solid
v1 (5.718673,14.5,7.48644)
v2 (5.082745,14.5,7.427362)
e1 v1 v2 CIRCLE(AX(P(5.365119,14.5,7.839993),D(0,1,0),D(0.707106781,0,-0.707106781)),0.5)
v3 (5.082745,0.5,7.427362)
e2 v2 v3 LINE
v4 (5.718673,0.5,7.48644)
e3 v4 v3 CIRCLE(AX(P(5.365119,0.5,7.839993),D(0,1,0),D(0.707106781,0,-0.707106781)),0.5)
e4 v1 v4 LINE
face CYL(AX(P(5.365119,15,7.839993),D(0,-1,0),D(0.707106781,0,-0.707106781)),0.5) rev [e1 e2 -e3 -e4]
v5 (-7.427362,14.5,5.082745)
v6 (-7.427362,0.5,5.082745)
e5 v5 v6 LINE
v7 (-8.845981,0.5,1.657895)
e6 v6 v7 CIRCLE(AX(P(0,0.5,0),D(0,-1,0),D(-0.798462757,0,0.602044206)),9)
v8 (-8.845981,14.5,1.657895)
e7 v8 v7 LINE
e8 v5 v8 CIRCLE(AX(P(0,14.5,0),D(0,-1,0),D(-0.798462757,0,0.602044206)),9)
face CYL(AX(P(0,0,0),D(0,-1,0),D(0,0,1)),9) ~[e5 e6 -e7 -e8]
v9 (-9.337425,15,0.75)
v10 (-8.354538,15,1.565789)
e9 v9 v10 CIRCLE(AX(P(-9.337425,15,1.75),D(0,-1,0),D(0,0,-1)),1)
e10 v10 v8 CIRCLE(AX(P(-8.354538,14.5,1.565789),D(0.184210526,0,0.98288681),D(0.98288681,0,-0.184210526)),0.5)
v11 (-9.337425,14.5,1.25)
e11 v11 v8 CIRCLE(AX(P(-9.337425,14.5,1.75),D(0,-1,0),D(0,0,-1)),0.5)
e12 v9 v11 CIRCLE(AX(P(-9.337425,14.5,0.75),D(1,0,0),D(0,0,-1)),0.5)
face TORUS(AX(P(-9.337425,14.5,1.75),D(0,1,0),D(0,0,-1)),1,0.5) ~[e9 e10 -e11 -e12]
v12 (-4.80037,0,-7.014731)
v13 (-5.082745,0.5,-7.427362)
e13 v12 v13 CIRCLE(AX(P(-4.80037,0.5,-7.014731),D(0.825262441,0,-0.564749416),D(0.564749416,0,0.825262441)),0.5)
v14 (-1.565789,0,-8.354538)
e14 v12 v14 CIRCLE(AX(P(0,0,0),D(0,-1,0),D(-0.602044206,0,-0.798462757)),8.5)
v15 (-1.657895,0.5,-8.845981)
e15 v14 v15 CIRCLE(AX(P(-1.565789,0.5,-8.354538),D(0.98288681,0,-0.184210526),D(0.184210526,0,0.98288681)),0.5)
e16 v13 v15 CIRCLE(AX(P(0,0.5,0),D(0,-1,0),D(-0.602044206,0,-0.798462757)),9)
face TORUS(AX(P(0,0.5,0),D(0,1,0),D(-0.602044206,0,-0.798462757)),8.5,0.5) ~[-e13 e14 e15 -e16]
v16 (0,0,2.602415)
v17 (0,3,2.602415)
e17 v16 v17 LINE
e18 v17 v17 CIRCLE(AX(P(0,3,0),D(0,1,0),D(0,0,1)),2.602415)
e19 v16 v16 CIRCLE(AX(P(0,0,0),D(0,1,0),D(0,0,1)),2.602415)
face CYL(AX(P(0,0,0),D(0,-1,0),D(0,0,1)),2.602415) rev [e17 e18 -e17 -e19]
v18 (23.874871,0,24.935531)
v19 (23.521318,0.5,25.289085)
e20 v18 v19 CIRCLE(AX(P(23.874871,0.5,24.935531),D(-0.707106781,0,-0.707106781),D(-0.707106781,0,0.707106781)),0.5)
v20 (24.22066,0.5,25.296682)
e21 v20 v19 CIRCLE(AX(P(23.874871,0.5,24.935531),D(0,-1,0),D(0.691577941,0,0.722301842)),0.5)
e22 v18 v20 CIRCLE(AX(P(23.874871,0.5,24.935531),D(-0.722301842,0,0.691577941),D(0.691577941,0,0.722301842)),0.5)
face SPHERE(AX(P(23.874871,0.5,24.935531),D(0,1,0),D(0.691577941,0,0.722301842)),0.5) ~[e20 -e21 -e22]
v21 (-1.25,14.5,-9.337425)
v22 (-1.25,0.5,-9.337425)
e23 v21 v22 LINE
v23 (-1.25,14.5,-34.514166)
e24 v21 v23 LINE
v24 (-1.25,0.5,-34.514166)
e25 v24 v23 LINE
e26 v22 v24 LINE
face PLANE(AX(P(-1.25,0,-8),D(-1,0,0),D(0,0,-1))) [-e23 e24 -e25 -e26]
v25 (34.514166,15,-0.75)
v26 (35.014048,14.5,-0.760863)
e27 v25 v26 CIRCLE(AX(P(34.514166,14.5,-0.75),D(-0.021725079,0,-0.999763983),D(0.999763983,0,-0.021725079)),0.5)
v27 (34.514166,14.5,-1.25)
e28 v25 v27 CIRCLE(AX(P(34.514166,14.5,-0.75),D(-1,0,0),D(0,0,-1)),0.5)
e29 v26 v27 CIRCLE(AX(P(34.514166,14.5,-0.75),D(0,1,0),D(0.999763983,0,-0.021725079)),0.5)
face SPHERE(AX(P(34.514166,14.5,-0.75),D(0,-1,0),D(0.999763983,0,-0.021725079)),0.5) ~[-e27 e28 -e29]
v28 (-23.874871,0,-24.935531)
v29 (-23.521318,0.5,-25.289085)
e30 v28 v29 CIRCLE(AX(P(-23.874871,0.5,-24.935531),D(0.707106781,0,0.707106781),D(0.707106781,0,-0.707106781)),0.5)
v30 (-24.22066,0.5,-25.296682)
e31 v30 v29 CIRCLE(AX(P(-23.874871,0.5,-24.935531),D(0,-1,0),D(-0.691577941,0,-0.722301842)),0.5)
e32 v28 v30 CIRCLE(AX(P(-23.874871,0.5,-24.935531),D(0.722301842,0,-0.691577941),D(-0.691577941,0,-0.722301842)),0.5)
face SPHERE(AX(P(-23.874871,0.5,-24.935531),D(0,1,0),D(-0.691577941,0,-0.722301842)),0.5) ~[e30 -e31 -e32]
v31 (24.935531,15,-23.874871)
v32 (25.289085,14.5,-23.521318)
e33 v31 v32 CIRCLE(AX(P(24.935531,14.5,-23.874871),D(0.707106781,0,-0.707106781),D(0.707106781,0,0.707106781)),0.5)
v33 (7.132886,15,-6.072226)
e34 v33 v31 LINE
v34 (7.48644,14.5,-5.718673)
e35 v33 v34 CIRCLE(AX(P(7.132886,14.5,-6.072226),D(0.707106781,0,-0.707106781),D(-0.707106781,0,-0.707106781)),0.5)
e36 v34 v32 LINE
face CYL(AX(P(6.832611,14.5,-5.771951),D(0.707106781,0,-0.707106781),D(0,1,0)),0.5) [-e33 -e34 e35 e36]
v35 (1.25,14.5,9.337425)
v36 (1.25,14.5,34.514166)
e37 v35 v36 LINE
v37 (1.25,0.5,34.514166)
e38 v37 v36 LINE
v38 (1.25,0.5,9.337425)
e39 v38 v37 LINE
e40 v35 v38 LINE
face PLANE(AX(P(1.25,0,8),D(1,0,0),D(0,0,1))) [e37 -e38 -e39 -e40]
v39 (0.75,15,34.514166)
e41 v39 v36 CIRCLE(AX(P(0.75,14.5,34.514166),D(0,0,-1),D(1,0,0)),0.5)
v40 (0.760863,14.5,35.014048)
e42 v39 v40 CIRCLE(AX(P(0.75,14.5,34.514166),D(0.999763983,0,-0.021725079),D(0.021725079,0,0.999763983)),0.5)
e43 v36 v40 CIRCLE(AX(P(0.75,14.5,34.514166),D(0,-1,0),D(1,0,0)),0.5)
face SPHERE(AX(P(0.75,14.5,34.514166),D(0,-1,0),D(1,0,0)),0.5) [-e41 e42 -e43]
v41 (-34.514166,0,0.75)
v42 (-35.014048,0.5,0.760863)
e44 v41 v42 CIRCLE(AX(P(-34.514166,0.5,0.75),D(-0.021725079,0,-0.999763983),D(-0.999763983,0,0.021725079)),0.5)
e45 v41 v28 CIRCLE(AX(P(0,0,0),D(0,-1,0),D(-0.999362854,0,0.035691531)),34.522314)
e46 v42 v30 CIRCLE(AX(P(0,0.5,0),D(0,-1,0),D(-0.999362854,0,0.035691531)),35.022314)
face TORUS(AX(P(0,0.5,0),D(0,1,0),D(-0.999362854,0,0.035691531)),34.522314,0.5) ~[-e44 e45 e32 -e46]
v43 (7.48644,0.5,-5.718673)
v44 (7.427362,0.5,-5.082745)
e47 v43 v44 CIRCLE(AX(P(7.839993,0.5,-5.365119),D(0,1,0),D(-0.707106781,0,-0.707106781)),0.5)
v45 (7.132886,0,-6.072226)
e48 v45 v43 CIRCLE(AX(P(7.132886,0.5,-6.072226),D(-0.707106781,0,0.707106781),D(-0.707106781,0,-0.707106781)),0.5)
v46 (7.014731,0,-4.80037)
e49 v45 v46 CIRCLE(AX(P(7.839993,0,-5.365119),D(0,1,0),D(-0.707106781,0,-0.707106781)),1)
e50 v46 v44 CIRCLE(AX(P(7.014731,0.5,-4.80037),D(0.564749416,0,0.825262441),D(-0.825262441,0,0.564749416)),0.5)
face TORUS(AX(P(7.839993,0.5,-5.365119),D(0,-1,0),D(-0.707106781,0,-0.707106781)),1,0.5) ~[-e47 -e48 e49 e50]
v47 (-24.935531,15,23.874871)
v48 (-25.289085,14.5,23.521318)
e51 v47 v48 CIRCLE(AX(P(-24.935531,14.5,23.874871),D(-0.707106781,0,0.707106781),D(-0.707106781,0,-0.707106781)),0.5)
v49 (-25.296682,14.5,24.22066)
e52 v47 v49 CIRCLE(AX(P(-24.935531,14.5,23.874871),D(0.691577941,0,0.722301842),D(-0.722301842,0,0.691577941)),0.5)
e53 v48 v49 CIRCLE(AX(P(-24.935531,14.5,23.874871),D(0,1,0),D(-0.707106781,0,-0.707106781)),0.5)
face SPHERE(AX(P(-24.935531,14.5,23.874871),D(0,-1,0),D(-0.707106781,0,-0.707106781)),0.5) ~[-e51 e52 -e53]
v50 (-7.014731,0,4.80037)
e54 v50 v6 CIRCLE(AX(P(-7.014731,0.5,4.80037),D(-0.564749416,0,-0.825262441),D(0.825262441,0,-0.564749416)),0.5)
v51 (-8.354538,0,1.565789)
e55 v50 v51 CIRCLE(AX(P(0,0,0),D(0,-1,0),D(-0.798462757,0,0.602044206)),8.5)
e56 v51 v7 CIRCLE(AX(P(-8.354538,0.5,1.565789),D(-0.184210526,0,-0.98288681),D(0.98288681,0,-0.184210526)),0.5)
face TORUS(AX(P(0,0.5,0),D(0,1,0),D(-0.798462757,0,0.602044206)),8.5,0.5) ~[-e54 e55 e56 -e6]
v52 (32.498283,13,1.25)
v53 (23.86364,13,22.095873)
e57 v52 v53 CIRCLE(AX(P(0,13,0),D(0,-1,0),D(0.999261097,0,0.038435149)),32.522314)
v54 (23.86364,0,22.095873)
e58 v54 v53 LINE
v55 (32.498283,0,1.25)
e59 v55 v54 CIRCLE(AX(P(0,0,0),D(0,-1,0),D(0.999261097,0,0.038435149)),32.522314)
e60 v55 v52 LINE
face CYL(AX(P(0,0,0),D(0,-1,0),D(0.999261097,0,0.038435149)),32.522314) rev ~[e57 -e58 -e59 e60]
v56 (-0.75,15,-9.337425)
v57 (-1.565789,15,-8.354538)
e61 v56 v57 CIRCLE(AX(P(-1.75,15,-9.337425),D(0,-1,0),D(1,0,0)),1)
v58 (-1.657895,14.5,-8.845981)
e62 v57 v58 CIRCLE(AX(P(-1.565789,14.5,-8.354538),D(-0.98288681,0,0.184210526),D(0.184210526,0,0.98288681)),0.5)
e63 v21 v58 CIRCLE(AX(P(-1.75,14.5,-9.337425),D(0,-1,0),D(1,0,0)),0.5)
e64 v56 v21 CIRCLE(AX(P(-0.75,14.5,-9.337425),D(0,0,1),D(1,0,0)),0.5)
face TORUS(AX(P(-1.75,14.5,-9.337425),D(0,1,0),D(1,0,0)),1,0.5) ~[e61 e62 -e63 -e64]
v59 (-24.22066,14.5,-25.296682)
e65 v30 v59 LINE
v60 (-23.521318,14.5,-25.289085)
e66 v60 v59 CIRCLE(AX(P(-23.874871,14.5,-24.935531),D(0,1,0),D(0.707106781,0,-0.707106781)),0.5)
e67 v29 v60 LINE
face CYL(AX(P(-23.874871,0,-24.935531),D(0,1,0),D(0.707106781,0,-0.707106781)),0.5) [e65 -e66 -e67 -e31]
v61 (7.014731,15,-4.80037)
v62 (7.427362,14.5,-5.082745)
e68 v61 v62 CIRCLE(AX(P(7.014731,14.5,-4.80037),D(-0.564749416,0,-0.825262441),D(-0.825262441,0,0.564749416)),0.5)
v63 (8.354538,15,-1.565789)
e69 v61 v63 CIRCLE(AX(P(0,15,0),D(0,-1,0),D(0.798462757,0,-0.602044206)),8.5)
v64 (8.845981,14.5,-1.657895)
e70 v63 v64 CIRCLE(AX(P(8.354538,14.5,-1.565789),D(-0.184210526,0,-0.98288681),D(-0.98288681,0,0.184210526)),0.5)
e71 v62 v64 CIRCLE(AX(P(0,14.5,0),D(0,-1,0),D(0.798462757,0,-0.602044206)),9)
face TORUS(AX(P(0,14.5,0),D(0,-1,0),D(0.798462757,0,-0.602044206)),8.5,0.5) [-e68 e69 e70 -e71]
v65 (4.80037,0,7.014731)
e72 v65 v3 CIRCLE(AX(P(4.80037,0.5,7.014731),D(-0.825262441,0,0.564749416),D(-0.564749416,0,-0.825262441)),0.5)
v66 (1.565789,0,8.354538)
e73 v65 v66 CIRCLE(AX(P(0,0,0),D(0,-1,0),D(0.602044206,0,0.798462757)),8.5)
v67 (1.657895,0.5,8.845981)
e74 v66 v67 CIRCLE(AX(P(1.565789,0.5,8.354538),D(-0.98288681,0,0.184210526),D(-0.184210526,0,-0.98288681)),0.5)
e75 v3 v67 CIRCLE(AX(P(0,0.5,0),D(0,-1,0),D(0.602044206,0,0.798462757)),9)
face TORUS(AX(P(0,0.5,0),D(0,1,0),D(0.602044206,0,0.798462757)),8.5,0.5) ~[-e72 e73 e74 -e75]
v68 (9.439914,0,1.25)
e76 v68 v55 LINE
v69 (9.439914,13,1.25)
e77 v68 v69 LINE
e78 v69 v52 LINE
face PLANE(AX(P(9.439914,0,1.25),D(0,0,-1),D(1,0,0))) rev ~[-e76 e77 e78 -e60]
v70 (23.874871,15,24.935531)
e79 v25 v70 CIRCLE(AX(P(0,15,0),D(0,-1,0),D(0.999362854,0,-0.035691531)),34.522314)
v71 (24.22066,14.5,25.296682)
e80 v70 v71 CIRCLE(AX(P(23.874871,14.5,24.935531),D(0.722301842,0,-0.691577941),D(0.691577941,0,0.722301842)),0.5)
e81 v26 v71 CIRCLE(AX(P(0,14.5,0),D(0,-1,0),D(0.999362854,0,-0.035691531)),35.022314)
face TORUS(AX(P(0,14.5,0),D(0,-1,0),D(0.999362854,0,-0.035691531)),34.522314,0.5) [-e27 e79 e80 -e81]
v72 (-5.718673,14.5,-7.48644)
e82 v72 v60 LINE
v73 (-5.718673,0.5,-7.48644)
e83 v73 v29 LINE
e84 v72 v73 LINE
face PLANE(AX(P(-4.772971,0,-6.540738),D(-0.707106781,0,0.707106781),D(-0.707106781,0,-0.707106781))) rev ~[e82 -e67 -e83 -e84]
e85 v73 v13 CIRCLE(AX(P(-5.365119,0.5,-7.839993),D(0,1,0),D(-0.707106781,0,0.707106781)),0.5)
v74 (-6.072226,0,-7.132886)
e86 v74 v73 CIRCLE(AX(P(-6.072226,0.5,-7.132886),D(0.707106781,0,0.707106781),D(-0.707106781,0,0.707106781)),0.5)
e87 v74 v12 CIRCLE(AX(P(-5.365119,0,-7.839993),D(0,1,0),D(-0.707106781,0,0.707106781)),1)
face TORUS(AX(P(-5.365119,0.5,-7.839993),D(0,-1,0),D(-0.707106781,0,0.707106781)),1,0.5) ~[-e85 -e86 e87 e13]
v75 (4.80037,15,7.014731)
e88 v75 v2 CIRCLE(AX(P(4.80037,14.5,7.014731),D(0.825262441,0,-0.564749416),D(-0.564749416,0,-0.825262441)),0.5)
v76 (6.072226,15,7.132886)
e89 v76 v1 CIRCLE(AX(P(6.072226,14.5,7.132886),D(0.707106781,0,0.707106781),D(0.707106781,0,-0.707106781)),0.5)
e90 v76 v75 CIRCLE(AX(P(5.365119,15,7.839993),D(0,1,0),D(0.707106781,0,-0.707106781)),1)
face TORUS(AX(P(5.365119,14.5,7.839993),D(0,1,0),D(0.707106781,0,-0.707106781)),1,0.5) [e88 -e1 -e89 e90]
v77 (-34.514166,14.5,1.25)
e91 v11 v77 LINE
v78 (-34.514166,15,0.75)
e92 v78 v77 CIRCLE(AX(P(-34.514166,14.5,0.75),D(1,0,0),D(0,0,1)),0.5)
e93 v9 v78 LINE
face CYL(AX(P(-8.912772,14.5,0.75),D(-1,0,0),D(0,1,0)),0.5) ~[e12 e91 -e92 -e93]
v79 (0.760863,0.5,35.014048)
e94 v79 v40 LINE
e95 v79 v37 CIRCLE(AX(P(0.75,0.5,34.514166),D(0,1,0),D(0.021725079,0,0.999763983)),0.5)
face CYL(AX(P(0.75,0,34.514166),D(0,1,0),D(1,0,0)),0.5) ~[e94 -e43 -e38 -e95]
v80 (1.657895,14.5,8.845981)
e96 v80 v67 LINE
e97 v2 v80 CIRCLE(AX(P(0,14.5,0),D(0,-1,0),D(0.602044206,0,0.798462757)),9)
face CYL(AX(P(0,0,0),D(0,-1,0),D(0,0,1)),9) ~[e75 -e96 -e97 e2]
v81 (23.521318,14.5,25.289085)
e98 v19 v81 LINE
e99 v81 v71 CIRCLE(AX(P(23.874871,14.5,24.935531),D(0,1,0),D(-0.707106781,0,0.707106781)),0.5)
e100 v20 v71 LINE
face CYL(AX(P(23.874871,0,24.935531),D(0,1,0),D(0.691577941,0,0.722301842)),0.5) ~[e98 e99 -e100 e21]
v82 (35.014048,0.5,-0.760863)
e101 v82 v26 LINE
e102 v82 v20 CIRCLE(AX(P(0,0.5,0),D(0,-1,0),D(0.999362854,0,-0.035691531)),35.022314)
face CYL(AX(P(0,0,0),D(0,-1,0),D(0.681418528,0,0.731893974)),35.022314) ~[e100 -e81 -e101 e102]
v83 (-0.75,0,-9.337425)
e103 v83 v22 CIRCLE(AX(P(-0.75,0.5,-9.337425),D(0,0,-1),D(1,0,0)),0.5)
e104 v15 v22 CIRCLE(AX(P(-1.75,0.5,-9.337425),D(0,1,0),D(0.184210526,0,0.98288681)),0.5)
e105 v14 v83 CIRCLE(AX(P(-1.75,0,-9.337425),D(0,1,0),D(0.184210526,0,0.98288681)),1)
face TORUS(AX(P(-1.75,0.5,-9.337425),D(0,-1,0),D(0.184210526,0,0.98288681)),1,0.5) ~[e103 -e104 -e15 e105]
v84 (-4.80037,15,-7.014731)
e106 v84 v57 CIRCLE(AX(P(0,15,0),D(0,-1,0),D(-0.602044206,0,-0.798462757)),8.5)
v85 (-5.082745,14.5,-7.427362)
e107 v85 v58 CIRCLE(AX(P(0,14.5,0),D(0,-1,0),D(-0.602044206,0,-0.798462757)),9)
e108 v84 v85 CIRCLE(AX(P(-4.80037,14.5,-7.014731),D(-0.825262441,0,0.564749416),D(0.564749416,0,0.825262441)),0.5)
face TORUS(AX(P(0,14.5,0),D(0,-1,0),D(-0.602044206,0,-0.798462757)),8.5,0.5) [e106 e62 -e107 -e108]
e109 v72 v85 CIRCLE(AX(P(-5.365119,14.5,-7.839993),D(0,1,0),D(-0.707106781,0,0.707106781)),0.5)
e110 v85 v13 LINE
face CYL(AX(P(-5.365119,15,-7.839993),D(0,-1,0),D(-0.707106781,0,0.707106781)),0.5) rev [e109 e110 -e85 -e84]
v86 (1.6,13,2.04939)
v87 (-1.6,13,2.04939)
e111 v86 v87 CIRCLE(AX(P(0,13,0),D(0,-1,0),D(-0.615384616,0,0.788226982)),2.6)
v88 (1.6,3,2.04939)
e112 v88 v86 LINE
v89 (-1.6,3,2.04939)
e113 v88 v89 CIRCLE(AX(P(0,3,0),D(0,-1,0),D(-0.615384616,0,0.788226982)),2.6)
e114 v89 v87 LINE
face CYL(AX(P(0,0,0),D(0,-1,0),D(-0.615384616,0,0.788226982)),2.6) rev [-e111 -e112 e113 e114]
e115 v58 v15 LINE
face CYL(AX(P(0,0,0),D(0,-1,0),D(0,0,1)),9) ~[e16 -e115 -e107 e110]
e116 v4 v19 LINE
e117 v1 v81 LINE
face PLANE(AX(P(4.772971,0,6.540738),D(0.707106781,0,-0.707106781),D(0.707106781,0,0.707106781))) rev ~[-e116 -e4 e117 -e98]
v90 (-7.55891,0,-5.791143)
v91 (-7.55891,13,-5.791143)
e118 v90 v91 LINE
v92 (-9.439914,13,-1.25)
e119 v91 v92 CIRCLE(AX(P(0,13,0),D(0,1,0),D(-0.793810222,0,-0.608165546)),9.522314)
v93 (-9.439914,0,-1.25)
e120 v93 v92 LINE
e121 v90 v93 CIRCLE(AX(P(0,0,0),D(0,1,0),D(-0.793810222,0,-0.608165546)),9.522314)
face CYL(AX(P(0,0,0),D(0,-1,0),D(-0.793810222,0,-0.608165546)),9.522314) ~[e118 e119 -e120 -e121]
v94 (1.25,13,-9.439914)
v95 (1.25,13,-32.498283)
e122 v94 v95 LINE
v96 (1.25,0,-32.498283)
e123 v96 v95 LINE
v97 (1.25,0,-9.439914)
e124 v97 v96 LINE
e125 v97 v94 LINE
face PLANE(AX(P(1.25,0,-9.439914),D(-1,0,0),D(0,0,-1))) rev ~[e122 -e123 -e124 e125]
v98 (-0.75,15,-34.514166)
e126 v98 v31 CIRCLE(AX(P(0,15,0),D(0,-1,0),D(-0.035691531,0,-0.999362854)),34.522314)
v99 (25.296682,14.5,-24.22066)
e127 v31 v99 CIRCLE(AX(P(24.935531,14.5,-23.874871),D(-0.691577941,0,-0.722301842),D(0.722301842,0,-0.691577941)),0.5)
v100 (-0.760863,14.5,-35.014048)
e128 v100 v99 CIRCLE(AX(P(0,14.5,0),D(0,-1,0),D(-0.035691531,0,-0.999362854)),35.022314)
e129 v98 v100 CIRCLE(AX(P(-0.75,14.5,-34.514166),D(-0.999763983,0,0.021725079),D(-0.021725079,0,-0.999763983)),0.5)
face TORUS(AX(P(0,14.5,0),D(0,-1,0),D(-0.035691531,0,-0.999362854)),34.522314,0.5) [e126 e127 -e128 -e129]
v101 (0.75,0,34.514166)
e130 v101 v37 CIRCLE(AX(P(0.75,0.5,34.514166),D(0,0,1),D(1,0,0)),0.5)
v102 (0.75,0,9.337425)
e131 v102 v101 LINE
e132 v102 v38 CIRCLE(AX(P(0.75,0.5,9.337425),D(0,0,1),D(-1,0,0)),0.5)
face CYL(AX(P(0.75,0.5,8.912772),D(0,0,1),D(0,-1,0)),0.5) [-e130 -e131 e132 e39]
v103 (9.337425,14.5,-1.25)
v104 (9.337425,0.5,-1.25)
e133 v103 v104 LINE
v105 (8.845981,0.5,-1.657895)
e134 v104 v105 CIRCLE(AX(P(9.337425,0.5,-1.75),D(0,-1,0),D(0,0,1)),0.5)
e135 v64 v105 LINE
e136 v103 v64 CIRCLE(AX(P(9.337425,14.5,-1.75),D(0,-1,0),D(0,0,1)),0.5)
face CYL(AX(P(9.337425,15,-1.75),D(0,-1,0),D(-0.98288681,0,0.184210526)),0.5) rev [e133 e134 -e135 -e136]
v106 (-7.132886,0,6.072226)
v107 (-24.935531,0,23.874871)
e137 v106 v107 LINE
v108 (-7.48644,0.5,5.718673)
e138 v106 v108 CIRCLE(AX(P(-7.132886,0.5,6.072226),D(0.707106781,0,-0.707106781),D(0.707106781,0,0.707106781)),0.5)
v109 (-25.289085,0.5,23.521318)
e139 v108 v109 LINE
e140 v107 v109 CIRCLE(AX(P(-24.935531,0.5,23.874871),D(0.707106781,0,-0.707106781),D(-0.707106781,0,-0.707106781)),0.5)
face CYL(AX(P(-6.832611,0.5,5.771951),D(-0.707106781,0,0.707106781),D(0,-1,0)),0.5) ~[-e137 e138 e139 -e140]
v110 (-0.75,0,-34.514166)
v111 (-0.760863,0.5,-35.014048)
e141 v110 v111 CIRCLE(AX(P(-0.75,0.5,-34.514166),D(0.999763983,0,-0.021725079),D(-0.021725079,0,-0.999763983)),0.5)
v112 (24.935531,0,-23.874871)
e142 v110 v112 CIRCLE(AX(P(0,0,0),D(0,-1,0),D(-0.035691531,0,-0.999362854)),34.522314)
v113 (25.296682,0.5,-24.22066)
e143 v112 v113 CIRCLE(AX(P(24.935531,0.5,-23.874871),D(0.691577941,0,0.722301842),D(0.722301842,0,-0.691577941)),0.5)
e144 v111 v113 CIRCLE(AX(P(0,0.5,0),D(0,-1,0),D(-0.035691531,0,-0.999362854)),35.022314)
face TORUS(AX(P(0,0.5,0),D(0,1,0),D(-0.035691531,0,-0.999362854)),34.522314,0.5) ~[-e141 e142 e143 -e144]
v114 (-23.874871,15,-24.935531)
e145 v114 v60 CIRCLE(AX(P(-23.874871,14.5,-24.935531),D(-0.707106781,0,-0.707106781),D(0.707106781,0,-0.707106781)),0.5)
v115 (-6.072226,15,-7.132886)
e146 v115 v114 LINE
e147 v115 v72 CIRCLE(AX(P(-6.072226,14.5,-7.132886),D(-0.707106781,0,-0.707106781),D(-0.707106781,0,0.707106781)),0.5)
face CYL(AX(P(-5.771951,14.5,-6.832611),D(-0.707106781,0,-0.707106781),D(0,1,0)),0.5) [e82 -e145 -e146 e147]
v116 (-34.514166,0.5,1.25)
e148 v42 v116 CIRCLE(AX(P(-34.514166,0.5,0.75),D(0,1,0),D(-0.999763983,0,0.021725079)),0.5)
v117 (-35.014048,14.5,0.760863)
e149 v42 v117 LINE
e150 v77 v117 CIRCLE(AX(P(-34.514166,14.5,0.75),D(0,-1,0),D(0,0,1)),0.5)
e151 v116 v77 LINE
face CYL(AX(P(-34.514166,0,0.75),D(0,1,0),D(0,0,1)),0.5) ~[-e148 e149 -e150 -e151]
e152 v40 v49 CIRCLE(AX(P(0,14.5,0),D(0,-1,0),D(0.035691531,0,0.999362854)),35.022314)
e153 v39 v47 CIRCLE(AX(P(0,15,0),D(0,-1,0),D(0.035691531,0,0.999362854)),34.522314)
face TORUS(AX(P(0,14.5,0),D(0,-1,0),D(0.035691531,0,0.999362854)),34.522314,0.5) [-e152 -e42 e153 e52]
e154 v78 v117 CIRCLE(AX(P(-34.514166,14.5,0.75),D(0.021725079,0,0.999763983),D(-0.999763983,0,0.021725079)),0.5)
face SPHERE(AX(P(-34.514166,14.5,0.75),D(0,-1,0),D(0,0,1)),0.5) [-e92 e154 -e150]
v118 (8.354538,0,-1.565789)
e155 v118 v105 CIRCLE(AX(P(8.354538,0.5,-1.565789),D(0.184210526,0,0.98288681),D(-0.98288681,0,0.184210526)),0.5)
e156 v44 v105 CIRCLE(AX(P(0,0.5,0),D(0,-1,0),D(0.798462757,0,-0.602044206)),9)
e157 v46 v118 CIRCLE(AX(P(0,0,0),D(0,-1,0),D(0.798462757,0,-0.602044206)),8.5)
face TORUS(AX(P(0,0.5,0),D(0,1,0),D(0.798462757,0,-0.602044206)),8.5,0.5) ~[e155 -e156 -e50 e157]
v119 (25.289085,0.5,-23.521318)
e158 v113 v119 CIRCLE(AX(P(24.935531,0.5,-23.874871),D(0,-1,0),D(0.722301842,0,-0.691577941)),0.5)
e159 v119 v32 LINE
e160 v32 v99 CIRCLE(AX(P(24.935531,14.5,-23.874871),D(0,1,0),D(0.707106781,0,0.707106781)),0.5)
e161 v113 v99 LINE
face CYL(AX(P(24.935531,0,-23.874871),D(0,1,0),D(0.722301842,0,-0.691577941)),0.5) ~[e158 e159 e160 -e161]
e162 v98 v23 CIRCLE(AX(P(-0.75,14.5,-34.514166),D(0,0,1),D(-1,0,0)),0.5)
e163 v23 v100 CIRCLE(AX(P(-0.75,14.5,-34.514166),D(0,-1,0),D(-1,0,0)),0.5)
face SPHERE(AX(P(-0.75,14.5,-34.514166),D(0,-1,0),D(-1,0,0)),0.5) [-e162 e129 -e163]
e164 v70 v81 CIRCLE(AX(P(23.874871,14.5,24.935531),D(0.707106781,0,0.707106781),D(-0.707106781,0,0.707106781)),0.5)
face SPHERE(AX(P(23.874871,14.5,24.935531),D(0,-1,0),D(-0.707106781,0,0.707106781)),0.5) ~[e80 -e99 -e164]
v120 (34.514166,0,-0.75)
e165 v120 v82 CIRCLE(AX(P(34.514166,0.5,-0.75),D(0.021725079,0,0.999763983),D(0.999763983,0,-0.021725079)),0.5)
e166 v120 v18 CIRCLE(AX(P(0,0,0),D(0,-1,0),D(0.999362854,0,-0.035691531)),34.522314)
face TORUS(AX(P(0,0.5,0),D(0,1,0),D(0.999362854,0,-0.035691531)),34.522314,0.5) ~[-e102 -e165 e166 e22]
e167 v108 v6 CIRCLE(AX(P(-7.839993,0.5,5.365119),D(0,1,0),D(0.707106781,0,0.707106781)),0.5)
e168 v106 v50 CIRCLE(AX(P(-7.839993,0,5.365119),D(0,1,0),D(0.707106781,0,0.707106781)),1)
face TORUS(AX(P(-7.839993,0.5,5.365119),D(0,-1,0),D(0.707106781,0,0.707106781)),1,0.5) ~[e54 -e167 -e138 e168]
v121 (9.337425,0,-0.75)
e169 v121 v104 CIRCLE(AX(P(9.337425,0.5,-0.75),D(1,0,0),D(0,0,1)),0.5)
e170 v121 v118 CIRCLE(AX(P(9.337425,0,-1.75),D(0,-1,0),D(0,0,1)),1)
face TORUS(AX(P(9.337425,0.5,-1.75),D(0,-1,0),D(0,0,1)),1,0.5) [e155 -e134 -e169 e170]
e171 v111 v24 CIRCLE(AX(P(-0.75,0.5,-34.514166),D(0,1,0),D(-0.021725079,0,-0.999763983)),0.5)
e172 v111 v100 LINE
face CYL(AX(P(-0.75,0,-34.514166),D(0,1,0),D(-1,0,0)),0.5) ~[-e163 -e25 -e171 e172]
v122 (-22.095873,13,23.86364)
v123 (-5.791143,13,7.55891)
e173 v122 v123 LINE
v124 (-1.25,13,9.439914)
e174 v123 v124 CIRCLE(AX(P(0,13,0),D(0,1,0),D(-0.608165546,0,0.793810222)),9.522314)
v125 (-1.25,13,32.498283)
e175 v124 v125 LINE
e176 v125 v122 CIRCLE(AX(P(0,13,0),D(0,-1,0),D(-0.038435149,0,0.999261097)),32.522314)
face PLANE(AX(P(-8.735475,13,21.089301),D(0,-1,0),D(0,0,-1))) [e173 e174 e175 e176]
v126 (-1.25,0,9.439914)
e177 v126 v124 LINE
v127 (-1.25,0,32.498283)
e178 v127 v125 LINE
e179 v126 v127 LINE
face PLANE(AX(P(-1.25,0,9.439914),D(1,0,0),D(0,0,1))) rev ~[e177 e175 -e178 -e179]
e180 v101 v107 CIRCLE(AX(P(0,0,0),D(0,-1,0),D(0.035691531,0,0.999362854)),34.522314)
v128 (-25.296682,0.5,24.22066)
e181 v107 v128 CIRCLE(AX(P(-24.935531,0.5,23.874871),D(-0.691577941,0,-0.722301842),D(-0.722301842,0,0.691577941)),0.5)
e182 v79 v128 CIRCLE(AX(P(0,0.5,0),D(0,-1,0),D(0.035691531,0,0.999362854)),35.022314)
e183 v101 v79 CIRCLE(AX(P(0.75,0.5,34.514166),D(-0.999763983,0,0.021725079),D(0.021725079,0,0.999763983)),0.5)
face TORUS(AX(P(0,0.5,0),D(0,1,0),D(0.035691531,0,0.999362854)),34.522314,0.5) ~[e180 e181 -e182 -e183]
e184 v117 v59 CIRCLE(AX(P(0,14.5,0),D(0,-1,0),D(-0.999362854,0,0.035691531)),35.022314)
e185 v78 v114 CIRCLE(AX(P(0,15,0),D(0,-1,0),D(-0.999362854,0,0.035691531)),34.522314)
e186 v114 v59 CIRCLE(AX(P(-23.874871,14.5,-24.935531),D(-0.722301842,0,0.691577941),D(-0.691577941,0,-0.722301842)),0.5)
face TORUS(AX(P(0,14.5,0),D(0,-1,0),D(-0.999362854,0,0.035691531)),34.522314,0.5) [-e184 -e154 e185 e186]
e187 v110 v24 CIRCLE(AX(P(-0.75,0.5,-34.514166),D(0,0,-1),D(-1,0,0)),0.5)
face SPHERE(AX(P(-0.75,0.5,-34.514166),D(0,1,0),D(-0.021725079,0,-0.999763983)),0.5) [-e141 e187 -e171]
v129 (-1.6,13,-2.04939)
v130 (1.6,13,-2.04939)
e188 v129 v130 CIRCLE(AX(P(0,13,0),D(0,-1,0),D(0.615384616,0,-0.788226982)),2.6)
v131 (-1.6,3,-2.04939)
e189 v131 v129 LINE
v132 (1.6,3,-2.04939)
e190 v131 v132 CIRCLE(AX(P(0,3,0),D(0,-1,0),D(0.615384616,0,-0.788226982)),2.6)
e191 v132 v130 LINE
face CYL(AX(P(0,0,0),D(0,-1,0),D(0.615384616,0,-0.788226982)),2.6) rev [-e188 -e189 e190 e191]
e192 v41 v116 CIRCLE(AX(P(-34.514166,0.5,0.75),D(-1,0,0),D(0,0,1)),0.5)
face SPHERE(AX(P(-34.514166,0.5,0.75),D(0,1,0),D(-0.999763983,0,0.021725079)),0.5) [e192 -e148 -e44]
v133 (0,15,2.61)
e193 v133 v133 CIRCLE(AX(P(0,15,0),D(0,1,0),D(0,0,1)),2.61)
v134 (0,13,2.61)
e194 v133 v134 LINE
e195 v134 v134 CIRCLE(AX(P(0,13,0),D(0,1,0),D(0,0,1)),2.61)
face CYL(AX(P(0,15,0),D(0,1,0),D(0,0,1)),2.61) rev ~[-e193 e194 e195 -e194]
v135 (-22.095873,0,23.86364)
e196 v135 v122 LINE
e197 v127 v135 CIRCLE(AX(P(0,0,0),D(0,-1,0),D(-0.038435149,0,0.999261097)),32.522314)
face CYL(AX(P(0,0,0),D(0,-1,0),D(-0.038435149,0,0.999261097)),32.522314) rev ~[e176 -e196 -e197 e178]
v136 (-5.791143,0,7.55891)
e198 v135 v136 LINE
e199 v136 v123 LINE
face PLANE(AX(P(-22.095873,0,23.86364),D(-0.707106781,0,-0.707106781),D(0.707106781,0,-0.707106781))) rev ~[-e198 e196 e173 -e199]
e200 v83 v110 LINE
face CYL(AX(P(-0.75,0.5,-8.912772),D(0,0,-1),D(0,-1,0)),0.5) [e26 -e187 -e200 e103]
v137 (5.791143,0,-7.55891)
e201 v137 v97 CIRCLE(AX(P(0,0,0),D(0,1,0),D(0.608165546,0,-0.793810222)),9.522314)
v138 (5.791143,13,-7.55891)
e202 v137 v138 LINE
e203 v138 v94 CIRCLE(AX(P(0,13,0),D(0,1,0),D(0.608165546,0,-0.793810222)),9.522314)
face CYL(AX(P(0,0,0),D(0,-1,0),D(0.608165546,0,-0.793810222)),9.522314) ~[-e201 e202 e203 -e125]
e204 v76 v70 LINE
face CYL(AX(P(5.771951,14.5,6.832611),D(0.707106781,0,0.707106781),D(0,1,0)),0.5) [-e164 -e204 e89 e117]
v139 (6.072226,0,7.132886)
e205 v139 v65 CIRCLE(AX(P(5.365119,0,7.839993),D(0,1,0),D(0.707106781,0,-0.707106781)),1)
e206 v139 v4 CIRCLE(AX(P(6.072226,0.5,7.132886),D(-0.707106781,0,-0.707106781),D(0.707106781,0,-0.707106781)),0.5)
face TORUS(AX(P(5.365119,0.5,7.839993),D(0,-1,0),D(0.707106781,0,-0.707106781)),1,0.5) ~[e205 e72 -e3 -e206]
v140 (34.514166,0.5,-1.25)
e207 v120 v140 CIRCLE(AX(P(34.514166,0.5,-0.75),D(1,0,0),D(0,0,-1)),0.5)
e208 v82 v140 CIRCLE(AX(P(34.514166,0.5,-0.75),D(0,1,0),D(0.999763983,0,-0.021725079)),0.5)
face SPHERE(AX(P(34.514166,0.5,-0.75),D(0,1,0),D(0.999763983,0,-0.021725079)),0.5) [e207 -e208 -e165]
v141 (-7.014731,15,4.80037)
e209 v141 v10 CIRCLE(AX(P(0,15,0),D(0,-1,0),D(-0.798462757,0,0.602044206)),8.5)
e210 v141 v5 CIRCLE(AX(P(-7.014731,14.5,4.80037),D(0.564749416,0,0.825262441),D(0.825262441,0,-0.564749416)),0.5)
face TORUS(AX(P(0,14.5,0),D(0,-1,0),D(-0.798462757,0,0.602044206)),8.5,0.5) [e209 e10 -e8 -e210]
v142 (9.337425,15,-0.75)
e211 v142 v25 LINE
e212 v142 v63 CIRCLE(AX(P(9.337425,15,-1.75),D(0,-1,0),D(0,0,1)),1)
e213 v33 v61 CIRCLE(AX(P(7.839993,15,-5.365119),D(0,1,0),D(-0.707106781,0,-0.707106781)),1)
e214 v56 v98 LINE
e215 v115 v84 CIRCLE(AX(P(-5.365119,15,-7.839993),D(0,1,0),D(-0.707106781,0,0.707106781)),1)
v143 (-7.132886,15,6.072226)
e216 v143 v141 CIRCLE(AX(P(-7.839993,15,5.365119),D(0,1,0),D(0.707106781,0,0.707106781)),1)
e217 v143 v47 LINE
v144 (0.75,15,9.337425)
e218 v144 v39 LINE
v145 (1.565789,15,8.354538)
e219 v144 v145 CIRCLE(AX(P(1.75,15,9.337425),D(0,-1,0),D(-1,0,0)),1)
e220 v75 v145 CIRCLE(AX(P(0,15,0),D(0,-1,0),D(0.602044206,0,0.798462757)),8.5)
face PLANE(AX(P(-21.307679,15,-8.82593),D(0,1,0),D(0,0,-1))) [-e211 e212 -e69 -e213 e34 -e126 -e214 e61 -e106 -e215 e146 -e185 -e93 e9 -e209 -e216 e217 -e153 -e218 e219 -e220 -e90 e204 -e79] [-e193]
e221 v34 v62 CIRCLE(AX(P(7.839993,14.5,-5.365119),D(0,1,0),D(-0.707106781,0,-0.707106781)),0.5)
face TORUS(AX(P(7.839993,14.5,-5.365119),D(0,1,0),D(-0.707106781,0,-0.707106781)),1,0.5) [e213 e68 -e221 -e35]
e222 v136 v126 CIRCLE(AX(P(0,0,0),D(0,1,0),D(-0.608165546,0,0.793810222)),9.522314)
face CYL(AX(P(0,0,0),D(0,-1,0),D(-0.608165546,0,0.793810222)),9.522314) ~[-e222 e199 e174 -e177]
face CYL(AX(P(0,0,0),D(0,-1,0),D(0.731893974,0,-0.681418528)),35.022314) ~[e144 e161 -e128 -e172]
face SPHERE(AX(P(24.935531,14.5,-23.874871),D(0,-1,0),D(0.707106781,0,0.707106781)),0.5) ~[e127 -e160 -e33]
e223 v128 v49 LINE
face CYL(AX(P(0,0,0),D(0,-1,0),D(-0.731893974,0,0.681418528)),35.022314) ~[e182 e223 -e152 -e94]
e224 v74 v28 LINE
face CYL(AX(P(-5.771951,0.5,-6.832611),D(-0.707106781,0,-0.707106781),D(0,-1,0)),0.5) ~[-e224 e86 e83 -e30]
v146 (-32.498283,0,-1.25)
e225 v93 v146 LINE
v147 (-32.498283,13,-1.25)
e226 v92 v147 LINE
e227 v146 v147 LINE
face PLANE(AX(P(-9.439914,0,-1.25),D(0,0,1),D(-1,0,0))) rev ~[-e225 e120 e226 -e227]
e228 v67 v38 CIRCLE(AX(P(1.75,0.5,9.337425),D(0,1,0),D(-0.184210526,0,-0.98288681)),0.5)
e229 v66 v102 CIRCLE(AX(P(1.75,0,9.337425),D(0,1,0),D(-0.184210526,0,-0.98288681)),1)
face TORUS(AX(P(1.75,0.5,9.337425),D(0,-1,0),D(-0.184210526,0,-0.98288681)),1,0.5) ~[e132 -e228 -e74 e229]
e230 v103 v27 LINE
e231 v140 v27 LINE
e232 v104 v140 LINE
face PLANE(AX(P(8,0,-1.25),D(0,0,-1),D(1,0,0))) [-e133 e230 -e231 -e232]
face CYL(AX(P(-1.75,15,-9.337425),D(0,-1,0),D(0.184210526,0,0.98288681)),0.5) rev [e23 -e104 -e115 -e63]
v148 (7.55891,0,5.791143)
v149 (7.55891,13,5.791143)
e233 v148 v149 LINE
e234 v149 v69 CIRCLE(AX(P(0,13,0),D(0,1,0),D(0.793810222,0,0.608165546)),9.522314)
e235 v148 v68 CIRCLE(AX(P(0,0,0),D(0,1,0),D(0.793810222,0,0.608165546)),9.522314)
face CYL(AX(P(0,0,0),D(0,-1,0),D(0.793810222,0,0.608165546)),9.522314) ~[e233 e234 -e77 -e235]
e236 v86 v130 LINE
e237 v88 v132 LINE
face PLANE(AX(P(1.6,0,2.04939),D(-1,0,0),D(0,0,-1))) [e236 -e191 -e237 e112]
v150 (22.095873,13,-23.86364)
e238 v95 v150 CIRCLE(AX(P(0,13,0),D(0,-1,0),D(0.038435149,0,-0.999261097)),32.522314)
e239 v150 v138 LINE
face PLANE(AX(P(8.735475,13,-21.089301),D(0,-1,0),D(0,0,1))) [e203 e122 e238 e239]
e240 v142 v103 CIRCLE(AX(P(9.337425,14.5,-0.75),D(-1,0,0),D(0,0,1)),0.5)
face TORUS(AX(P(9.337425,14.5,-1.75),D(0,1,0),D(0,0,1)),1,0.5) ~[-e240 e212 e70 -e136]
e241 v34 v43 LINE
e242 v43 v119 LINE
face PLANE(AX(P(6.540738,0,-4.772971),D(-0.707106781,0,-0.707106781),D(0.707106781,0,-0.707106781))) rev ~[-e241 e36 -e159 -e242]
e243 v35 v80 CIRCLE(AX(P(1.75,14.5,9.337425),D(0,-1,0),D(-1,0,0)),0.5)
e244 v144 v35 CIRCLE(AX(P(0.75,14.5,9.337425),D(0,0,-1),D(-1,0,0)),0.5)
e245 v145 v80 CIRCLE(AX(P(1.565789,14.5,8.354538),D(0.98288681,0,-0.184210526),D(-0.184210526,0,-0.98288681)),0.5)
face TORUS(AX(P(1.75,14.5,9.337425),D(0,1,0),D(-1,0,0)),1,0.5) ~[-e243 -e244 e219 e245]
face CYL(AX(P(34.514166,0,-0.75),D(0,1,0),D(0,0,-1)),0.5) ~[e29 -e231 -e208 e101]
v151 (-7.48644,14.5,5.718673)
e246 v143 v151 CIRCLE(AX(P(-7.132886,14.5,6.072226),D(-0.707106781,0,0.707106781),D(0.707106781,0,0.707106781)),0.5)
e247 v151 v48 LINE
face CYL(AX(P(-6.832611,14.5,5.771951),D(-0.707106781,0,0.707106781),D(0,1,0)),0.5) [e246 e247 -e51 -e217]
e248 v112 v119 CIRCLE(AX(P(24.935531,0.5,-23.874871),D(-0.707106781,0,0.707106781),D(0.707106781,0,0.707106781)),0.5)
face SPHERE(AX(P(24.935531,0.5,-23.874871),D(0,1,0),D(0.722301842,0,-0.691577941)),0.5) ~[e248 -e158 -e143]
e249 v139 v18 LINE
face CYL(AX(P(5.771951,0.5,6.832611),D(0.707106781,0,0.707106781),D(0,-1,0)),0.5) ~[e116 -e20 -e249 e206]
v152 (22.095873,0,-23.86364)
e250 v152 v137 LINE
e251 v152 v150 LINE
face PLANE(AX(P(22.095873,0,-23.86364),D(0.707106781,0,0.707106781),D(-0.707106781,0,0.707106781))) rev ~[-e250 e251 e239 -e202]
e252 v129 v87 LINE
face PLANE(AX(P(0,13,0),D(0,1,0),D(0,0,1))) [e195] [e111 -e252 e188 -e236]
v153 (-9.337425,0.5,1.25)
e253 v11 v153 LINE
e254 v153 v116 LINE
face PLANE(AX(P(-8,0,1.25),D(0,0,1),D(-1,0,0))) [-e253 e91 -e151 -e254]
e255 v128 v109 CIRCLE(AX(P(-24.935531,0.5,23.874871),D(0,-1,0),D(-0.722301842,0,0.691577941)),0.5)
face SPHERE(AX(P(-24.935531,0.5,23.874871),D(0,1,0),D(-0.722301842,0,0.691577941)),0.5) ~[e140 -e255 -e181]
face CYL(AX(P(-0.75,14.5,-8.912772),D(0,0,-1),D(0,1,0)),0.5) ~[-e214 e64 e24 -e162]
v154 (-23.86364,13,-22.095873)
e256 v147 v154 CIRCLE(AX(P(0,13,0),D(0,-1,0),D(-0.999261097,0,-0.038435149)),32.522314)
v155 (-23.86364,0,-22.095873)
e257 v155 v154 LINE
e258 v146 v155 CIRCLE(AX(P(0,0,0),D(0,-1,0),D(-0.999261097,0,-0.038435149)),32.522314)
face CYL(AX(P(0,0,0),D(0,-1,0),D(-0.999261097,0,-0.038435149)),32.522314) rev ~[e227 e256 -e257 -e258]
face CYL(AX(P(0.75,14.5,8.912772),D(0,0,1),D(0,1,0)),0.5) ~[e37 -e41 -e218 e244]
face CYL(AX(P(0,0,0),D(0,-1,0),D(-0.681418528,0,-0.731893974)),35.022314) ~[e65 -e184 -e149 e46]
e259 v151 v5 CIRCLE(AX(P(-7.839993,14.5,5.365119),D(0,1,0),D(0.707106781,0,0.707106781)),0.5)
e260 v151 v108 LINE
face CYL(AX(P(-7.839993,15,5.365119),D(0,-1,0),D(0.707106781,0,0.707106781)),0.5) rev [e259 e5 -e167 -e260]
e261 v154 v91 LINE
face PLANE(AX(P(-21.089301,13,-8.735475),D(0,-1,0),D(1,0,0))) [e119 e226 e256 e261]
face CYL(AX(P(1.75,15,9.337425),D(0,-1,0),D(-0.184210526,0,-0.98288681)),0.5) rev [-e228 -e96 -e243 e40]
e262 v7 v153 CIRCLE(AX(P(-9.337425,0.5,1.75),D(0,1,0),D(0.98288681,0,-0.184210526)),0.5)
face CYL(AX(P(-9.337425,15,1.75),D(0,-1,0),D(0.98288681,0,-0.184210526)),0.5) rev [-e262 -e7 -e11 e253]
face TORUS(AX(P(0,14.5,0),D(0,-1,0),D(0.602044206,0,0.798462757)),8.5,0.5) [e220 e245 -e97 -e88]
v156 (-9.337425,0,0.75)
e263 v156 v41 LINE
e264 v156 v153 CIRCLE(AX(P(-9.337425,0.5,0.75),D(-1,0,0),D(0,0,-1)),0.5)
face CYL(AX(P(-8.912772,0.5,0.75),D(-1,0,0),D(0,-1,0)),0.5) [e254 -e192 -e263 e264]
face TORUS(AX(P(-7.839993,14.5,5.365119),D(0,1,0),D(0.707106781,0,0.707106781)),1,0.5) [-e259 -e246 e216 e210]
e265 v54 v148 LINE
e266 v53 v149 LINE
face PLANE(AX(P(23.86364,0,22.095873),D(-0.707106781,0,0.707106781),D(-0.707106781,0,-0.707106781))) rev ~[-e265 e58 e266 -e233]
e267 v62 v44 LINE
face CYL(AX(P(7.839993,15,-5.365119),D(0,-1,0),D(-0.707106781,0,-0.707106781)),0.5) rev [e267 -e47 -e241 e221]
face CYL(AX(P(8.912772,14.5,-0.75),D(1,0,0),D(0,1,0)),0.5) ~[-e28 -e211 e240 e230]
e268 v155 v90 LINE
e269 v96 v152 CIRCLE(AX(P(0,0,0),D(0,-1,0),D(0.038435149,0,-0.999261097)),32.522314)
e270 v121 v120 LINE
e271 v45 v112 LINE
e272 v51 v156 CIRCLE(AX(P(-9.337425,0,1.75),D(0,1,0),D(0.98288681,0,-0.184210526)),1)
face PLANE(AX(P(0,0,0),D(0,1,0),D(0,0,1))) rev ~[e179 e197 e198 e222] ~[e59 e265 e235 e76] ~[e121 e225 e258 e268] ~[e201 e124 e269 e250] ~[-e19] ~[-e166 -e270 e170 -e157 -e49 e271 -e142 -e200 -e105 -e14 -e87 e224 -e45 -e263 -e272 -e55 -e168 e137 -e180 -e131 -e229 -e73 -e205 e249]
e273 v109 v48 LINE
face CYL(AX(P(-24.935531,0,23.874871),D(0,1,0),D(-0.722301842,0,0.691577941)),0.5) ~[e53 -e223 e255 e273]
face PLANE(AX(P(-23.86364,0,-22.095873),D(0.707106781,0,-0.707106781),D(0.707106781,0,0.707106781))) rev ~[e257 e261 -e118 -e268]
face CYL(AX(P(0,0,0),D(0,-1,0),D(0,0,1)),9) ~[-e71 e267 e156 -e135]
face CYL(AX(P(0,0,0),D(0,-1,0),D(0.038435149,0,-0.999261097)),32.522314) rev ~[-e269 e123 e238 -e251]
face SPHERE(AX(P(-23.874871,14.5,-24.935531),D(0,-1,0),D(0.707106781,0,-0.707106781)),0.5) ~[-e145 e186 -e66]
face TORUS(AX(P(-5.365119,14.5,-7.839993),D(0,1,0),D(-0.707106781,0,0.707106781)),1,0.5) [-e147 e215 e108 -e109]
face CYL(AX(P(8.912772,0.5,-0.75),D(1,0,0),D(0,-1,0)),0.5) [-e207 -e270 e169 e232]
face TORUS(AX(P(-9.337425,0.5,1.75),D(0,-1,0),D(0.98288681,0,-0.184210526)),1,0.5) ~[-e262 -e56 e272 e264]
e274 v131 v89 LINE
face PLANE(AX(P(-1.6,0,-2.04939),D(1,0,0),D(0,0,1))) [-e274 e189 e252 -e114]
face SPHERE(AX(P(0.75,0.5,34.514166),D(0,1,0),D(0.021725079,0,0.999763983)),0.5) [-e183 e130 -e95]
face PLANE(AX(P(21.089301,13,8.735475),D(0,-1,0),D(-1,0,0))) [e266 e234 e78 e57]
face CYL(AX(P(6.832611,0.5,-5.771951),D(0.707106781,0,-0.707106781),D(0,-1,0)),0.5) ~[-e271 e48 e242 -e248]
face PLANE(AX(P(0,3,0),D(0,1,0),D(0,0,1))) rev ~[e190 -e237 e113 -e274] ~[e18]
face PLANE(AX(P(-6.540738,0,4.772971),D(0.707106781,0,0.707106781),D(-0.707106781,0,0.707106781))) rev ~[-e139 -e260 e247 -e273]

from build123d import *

# Parameters (mm, degrees)
SKETCH1_R           = 9
BOSS_EXTRUDE1_DEPTH = 15
SKETCH4_W           = 27
SKETCH4_H           = 2.5
BOSS_EXTRUDE2_DEPTH = 15
CIRPATTERN1_COUNT   = 8
SKETCH6_R           = 2.61
CUT_EXTRUDE2_DEPTH  = 2
BOSS_EXTRUDE3_DEPTH = 15
CIRPATTERN2_COUNT   = 4
FILLET1_R           = 0.5
CUT_EXTRUDE3_DEPTH  = 13
CIRPATTERN3_COUNT   = 4
SKETCH9_R           = 2.602415143
CUT_EXTRUDE4_DEPTH  = 3


with BuildPart() as part:
    # Sketch1 → Boss-Extrude1 (new body)
    with BuildSketch(Plane(origin=(0, 0, 0), x_dir=(1, 0, 0), z_dir=(0, 1, 0))):
        with Locations(Location((0, 0, 0), (0, 0, 270))):
            Circle(SKETCH1_R)
        with BuildLine():
            Line((1.6, -2.049390153), (1.6, 2.049390153))
            ThreePointArc((1.6, 2.049390153), (0, 2.6), (-1.6, 2.049390153))
            Line((-1.6, 2.049390153), (-1.6, -2.049390153))
            ThreePointArc((-1.6, -2.049390153), (0, -2.6), (1.6, -2.049390153))
        make_face(mode=Mode.SUBTRACT)
    extrude(amount=BOSS_EXTRUDE1_DEPTH)

    # Sketch4 → Boss-Extrude2 (add)
    with BuildSketch(Plane(origin=(0, 0, 0), x_dir=(1, 0, 0), z_dir=(0, 1, 0))):
        with Locations((21.5, 0)):
            Rectangle(SKETCH4_W, SKETCH4_H)
    boss_extrude2 = extrude(amount=BOSS_EXTRUDE2_DEPTH)

    # CirPattern1: Boss-Extrude2 ×8 about axis
    cirpattern1_axis = Axis((0, 0, 0), (0, 1, 0))
    for i in range(1, CIRPATTERN1_COUNT):
        add(boss_extrude2.rotate(cirpattern1_axis, i * 360 / CIRPATTERN1_COUNT))

    # Sketch6 → Cut-Extrude2 (cut)
    with BuildSketch(Plane(origin=(0, 15, 0), x_dir=(1, 0, 0), z_dir=(0, 1, 0))):
        with Locations(Location((0, 0, 0), (0, 0, 270))):
            Circle(SKETCH6_R)
    extrude(amount=-CUT_EXTRUDE2_DEPTH, mode=Mode.SUBTRACT)

    # Sketch7 → Boss-Extrude3 (add)
    with BuildSketch(Plane(origin=(0, 0, 0), x_dir=(1, 0, 0), z_dir=(0, 1, 0))):
        with BuildLine():
            Line((-1.25, 35), (-0.249840714, 6.99553998))
            ThreePointArc((-0.249840714, 6.99553998), (2.678784027, 6.467156728), (5.123257821, 4.769929695))
            Line((5.123257821, 4.769929695), (25.632620818, 23.864853865))
            ThreePointArc((25.632620818, 23.864853865), (13.402459452, 32.356399377), (-1.25, 35))
        make_face()
    boss_extrude3 = extrude(amount=BOSS_EXTRUDE3_DEPTH)

    # CirPattern2: Boss-Extrude3 ×4 about axis
    cirpattern2_axis = Axis((0, 15, 0), (0, 1, 0))
    for i in range(1, CIRPATTERN2_COUNT):
        add(boss_extrude3.rotate(cirpattern2_axis, i * 360 / CIRPATTERN2_COUNT))

    # Fillet1
    fillet1_edges = [part.edges().sort_by_distance(p)[0] for p in [
        (-21.956385867, 15, 1.25),
        (-7.186164809, 7.5, 5.418397856),
        (-16.409392814, 0, 14.641625861),
        (-25.632620818, 7.5, 23.864853865),
        (-16.409392814, 15, 14.641625861),
        (3.444150891, 0, 8.314915793),
        (3.444150891, 15, 8.314915793),
        (1.25, 0, 21.956385867),
        (1.25, 7.5, 8.912771735),
        (1.25, 7.5, 35),
        (1.25, 15, 21.956385867),
        (5.418397856, 7.5, 7.186164809),
        (14.641625861, 0, 16.409392814),
        (23.864853865, 7.5, 25.632620818),
        (14.641625861, 15, 16.409392814),
        (13.402459452, 0, -32.356399377),
        (13.402459452, 15, -32.356399377),
        (8.314915793, 15, -3.444150891),
        (8.314915793, 0, -3.444150891),
        (8.912771735, 7.5, -1.25),
        (-32.356399377, 0, -13.402459452),
        (-32.356399377, 15, -13.402459452),
        (-13.402459452, 0, 32.356399377),
        (-13.402459452, 15, 32.356399377),
        (21.956385867, 0, -1.25),
        (35, 7.5, -1.25),
        (32.356399377, 0, 13.402459452),
        (32.356399377, 15, 13.402459452),
        (21.956385867, 15, -1.25),
        (7.186164809, 7.5, -5.418397856),
        (16.409392814, 0, -14.641625861),
        (25.632620818, 7.5, -23.864853865),
        (16.409392814, 15, -14.641625861),
        (-3.444150891, 0, -8.314915793),
        (-3.444150891, 15, -8.314915793),
        (-1.25, 0, -21.956385867),
        (-1.25, 7.5, -8.912771735),
        (-1.25, 7.5, -35),
        (-1.25, 15, -21.956385867),
        (-5.418397856, 7.5, -7.186164809),
        (-14.641625861, 0, -16.409392814),
        (-23.864853865, 7.5, -25.632620818),
        (-14.641625861, 15, -16.409392814),
        (-8.314915793, 0, 3.444150891),
        (-8.314915793, 15, 3.444150891),
        (-21.956385867, 0, 1.25),
        (-8.912771735, 7.5, 1.25),
        (-35, 7.5, 1.25),
    ]]
    fillet(fillet1_edges, radius=FILLET1_R)

    # Sketch8 → Cut-Extrude3 (cut)
    with BuildSketch(Plane(origin=(0, 0, 0), x_dir=(1, 0, 0), z_dir=(0, 1, 0))):
        with BuildLine():
            Line((23.863640094, -22.095873141), (7.55891044, -5.791143487))
            ThreePointArc((7.55891044, -5.791143487), (8.797471298, -3.644031926), (9.439913661, -1.25))
            Line((9.439913661, -1.25), (32.498283469, -1.25))
            ThreePointArc((32.498283469, -1.25), (30.046700546, -12.445750871), (23.863640094, -22.095873141))
        make_face()
    cut_extrude3 = extrude(amount=CUT_EXTRUDE3_DEPTH, mode=Mode.SUBTRACT)

    # CirPattern3: Cut-Extrude3 ×4 about axis
    cirpattern3_axis = Axis((0, 0, 0), (0, 1, 0))
    for i in range(1, CIRPATTERN3_COUNT):
        add(cut_extrude3.rotate(cirpattern3_axis, i * 360 / CIRPATTERN3_COUNT), mode=Mode.SUBTRACT)

    # Sketch9 → Cut-Extrude4 (cut)
    with BuildSketch(Plane(origin=(0, 0, 0), x_dir=(1, 0, 0), z_dir=(0, 1, 0))):
        with Locations(Location((0, 0, 0), (0, 0, 270))):
            Circle(SKETCH9_R)
    extrude(amount=CUT_EXTRUDE4_DEPTH, mode=Mode.SUBTRACT)


solid = part.part
